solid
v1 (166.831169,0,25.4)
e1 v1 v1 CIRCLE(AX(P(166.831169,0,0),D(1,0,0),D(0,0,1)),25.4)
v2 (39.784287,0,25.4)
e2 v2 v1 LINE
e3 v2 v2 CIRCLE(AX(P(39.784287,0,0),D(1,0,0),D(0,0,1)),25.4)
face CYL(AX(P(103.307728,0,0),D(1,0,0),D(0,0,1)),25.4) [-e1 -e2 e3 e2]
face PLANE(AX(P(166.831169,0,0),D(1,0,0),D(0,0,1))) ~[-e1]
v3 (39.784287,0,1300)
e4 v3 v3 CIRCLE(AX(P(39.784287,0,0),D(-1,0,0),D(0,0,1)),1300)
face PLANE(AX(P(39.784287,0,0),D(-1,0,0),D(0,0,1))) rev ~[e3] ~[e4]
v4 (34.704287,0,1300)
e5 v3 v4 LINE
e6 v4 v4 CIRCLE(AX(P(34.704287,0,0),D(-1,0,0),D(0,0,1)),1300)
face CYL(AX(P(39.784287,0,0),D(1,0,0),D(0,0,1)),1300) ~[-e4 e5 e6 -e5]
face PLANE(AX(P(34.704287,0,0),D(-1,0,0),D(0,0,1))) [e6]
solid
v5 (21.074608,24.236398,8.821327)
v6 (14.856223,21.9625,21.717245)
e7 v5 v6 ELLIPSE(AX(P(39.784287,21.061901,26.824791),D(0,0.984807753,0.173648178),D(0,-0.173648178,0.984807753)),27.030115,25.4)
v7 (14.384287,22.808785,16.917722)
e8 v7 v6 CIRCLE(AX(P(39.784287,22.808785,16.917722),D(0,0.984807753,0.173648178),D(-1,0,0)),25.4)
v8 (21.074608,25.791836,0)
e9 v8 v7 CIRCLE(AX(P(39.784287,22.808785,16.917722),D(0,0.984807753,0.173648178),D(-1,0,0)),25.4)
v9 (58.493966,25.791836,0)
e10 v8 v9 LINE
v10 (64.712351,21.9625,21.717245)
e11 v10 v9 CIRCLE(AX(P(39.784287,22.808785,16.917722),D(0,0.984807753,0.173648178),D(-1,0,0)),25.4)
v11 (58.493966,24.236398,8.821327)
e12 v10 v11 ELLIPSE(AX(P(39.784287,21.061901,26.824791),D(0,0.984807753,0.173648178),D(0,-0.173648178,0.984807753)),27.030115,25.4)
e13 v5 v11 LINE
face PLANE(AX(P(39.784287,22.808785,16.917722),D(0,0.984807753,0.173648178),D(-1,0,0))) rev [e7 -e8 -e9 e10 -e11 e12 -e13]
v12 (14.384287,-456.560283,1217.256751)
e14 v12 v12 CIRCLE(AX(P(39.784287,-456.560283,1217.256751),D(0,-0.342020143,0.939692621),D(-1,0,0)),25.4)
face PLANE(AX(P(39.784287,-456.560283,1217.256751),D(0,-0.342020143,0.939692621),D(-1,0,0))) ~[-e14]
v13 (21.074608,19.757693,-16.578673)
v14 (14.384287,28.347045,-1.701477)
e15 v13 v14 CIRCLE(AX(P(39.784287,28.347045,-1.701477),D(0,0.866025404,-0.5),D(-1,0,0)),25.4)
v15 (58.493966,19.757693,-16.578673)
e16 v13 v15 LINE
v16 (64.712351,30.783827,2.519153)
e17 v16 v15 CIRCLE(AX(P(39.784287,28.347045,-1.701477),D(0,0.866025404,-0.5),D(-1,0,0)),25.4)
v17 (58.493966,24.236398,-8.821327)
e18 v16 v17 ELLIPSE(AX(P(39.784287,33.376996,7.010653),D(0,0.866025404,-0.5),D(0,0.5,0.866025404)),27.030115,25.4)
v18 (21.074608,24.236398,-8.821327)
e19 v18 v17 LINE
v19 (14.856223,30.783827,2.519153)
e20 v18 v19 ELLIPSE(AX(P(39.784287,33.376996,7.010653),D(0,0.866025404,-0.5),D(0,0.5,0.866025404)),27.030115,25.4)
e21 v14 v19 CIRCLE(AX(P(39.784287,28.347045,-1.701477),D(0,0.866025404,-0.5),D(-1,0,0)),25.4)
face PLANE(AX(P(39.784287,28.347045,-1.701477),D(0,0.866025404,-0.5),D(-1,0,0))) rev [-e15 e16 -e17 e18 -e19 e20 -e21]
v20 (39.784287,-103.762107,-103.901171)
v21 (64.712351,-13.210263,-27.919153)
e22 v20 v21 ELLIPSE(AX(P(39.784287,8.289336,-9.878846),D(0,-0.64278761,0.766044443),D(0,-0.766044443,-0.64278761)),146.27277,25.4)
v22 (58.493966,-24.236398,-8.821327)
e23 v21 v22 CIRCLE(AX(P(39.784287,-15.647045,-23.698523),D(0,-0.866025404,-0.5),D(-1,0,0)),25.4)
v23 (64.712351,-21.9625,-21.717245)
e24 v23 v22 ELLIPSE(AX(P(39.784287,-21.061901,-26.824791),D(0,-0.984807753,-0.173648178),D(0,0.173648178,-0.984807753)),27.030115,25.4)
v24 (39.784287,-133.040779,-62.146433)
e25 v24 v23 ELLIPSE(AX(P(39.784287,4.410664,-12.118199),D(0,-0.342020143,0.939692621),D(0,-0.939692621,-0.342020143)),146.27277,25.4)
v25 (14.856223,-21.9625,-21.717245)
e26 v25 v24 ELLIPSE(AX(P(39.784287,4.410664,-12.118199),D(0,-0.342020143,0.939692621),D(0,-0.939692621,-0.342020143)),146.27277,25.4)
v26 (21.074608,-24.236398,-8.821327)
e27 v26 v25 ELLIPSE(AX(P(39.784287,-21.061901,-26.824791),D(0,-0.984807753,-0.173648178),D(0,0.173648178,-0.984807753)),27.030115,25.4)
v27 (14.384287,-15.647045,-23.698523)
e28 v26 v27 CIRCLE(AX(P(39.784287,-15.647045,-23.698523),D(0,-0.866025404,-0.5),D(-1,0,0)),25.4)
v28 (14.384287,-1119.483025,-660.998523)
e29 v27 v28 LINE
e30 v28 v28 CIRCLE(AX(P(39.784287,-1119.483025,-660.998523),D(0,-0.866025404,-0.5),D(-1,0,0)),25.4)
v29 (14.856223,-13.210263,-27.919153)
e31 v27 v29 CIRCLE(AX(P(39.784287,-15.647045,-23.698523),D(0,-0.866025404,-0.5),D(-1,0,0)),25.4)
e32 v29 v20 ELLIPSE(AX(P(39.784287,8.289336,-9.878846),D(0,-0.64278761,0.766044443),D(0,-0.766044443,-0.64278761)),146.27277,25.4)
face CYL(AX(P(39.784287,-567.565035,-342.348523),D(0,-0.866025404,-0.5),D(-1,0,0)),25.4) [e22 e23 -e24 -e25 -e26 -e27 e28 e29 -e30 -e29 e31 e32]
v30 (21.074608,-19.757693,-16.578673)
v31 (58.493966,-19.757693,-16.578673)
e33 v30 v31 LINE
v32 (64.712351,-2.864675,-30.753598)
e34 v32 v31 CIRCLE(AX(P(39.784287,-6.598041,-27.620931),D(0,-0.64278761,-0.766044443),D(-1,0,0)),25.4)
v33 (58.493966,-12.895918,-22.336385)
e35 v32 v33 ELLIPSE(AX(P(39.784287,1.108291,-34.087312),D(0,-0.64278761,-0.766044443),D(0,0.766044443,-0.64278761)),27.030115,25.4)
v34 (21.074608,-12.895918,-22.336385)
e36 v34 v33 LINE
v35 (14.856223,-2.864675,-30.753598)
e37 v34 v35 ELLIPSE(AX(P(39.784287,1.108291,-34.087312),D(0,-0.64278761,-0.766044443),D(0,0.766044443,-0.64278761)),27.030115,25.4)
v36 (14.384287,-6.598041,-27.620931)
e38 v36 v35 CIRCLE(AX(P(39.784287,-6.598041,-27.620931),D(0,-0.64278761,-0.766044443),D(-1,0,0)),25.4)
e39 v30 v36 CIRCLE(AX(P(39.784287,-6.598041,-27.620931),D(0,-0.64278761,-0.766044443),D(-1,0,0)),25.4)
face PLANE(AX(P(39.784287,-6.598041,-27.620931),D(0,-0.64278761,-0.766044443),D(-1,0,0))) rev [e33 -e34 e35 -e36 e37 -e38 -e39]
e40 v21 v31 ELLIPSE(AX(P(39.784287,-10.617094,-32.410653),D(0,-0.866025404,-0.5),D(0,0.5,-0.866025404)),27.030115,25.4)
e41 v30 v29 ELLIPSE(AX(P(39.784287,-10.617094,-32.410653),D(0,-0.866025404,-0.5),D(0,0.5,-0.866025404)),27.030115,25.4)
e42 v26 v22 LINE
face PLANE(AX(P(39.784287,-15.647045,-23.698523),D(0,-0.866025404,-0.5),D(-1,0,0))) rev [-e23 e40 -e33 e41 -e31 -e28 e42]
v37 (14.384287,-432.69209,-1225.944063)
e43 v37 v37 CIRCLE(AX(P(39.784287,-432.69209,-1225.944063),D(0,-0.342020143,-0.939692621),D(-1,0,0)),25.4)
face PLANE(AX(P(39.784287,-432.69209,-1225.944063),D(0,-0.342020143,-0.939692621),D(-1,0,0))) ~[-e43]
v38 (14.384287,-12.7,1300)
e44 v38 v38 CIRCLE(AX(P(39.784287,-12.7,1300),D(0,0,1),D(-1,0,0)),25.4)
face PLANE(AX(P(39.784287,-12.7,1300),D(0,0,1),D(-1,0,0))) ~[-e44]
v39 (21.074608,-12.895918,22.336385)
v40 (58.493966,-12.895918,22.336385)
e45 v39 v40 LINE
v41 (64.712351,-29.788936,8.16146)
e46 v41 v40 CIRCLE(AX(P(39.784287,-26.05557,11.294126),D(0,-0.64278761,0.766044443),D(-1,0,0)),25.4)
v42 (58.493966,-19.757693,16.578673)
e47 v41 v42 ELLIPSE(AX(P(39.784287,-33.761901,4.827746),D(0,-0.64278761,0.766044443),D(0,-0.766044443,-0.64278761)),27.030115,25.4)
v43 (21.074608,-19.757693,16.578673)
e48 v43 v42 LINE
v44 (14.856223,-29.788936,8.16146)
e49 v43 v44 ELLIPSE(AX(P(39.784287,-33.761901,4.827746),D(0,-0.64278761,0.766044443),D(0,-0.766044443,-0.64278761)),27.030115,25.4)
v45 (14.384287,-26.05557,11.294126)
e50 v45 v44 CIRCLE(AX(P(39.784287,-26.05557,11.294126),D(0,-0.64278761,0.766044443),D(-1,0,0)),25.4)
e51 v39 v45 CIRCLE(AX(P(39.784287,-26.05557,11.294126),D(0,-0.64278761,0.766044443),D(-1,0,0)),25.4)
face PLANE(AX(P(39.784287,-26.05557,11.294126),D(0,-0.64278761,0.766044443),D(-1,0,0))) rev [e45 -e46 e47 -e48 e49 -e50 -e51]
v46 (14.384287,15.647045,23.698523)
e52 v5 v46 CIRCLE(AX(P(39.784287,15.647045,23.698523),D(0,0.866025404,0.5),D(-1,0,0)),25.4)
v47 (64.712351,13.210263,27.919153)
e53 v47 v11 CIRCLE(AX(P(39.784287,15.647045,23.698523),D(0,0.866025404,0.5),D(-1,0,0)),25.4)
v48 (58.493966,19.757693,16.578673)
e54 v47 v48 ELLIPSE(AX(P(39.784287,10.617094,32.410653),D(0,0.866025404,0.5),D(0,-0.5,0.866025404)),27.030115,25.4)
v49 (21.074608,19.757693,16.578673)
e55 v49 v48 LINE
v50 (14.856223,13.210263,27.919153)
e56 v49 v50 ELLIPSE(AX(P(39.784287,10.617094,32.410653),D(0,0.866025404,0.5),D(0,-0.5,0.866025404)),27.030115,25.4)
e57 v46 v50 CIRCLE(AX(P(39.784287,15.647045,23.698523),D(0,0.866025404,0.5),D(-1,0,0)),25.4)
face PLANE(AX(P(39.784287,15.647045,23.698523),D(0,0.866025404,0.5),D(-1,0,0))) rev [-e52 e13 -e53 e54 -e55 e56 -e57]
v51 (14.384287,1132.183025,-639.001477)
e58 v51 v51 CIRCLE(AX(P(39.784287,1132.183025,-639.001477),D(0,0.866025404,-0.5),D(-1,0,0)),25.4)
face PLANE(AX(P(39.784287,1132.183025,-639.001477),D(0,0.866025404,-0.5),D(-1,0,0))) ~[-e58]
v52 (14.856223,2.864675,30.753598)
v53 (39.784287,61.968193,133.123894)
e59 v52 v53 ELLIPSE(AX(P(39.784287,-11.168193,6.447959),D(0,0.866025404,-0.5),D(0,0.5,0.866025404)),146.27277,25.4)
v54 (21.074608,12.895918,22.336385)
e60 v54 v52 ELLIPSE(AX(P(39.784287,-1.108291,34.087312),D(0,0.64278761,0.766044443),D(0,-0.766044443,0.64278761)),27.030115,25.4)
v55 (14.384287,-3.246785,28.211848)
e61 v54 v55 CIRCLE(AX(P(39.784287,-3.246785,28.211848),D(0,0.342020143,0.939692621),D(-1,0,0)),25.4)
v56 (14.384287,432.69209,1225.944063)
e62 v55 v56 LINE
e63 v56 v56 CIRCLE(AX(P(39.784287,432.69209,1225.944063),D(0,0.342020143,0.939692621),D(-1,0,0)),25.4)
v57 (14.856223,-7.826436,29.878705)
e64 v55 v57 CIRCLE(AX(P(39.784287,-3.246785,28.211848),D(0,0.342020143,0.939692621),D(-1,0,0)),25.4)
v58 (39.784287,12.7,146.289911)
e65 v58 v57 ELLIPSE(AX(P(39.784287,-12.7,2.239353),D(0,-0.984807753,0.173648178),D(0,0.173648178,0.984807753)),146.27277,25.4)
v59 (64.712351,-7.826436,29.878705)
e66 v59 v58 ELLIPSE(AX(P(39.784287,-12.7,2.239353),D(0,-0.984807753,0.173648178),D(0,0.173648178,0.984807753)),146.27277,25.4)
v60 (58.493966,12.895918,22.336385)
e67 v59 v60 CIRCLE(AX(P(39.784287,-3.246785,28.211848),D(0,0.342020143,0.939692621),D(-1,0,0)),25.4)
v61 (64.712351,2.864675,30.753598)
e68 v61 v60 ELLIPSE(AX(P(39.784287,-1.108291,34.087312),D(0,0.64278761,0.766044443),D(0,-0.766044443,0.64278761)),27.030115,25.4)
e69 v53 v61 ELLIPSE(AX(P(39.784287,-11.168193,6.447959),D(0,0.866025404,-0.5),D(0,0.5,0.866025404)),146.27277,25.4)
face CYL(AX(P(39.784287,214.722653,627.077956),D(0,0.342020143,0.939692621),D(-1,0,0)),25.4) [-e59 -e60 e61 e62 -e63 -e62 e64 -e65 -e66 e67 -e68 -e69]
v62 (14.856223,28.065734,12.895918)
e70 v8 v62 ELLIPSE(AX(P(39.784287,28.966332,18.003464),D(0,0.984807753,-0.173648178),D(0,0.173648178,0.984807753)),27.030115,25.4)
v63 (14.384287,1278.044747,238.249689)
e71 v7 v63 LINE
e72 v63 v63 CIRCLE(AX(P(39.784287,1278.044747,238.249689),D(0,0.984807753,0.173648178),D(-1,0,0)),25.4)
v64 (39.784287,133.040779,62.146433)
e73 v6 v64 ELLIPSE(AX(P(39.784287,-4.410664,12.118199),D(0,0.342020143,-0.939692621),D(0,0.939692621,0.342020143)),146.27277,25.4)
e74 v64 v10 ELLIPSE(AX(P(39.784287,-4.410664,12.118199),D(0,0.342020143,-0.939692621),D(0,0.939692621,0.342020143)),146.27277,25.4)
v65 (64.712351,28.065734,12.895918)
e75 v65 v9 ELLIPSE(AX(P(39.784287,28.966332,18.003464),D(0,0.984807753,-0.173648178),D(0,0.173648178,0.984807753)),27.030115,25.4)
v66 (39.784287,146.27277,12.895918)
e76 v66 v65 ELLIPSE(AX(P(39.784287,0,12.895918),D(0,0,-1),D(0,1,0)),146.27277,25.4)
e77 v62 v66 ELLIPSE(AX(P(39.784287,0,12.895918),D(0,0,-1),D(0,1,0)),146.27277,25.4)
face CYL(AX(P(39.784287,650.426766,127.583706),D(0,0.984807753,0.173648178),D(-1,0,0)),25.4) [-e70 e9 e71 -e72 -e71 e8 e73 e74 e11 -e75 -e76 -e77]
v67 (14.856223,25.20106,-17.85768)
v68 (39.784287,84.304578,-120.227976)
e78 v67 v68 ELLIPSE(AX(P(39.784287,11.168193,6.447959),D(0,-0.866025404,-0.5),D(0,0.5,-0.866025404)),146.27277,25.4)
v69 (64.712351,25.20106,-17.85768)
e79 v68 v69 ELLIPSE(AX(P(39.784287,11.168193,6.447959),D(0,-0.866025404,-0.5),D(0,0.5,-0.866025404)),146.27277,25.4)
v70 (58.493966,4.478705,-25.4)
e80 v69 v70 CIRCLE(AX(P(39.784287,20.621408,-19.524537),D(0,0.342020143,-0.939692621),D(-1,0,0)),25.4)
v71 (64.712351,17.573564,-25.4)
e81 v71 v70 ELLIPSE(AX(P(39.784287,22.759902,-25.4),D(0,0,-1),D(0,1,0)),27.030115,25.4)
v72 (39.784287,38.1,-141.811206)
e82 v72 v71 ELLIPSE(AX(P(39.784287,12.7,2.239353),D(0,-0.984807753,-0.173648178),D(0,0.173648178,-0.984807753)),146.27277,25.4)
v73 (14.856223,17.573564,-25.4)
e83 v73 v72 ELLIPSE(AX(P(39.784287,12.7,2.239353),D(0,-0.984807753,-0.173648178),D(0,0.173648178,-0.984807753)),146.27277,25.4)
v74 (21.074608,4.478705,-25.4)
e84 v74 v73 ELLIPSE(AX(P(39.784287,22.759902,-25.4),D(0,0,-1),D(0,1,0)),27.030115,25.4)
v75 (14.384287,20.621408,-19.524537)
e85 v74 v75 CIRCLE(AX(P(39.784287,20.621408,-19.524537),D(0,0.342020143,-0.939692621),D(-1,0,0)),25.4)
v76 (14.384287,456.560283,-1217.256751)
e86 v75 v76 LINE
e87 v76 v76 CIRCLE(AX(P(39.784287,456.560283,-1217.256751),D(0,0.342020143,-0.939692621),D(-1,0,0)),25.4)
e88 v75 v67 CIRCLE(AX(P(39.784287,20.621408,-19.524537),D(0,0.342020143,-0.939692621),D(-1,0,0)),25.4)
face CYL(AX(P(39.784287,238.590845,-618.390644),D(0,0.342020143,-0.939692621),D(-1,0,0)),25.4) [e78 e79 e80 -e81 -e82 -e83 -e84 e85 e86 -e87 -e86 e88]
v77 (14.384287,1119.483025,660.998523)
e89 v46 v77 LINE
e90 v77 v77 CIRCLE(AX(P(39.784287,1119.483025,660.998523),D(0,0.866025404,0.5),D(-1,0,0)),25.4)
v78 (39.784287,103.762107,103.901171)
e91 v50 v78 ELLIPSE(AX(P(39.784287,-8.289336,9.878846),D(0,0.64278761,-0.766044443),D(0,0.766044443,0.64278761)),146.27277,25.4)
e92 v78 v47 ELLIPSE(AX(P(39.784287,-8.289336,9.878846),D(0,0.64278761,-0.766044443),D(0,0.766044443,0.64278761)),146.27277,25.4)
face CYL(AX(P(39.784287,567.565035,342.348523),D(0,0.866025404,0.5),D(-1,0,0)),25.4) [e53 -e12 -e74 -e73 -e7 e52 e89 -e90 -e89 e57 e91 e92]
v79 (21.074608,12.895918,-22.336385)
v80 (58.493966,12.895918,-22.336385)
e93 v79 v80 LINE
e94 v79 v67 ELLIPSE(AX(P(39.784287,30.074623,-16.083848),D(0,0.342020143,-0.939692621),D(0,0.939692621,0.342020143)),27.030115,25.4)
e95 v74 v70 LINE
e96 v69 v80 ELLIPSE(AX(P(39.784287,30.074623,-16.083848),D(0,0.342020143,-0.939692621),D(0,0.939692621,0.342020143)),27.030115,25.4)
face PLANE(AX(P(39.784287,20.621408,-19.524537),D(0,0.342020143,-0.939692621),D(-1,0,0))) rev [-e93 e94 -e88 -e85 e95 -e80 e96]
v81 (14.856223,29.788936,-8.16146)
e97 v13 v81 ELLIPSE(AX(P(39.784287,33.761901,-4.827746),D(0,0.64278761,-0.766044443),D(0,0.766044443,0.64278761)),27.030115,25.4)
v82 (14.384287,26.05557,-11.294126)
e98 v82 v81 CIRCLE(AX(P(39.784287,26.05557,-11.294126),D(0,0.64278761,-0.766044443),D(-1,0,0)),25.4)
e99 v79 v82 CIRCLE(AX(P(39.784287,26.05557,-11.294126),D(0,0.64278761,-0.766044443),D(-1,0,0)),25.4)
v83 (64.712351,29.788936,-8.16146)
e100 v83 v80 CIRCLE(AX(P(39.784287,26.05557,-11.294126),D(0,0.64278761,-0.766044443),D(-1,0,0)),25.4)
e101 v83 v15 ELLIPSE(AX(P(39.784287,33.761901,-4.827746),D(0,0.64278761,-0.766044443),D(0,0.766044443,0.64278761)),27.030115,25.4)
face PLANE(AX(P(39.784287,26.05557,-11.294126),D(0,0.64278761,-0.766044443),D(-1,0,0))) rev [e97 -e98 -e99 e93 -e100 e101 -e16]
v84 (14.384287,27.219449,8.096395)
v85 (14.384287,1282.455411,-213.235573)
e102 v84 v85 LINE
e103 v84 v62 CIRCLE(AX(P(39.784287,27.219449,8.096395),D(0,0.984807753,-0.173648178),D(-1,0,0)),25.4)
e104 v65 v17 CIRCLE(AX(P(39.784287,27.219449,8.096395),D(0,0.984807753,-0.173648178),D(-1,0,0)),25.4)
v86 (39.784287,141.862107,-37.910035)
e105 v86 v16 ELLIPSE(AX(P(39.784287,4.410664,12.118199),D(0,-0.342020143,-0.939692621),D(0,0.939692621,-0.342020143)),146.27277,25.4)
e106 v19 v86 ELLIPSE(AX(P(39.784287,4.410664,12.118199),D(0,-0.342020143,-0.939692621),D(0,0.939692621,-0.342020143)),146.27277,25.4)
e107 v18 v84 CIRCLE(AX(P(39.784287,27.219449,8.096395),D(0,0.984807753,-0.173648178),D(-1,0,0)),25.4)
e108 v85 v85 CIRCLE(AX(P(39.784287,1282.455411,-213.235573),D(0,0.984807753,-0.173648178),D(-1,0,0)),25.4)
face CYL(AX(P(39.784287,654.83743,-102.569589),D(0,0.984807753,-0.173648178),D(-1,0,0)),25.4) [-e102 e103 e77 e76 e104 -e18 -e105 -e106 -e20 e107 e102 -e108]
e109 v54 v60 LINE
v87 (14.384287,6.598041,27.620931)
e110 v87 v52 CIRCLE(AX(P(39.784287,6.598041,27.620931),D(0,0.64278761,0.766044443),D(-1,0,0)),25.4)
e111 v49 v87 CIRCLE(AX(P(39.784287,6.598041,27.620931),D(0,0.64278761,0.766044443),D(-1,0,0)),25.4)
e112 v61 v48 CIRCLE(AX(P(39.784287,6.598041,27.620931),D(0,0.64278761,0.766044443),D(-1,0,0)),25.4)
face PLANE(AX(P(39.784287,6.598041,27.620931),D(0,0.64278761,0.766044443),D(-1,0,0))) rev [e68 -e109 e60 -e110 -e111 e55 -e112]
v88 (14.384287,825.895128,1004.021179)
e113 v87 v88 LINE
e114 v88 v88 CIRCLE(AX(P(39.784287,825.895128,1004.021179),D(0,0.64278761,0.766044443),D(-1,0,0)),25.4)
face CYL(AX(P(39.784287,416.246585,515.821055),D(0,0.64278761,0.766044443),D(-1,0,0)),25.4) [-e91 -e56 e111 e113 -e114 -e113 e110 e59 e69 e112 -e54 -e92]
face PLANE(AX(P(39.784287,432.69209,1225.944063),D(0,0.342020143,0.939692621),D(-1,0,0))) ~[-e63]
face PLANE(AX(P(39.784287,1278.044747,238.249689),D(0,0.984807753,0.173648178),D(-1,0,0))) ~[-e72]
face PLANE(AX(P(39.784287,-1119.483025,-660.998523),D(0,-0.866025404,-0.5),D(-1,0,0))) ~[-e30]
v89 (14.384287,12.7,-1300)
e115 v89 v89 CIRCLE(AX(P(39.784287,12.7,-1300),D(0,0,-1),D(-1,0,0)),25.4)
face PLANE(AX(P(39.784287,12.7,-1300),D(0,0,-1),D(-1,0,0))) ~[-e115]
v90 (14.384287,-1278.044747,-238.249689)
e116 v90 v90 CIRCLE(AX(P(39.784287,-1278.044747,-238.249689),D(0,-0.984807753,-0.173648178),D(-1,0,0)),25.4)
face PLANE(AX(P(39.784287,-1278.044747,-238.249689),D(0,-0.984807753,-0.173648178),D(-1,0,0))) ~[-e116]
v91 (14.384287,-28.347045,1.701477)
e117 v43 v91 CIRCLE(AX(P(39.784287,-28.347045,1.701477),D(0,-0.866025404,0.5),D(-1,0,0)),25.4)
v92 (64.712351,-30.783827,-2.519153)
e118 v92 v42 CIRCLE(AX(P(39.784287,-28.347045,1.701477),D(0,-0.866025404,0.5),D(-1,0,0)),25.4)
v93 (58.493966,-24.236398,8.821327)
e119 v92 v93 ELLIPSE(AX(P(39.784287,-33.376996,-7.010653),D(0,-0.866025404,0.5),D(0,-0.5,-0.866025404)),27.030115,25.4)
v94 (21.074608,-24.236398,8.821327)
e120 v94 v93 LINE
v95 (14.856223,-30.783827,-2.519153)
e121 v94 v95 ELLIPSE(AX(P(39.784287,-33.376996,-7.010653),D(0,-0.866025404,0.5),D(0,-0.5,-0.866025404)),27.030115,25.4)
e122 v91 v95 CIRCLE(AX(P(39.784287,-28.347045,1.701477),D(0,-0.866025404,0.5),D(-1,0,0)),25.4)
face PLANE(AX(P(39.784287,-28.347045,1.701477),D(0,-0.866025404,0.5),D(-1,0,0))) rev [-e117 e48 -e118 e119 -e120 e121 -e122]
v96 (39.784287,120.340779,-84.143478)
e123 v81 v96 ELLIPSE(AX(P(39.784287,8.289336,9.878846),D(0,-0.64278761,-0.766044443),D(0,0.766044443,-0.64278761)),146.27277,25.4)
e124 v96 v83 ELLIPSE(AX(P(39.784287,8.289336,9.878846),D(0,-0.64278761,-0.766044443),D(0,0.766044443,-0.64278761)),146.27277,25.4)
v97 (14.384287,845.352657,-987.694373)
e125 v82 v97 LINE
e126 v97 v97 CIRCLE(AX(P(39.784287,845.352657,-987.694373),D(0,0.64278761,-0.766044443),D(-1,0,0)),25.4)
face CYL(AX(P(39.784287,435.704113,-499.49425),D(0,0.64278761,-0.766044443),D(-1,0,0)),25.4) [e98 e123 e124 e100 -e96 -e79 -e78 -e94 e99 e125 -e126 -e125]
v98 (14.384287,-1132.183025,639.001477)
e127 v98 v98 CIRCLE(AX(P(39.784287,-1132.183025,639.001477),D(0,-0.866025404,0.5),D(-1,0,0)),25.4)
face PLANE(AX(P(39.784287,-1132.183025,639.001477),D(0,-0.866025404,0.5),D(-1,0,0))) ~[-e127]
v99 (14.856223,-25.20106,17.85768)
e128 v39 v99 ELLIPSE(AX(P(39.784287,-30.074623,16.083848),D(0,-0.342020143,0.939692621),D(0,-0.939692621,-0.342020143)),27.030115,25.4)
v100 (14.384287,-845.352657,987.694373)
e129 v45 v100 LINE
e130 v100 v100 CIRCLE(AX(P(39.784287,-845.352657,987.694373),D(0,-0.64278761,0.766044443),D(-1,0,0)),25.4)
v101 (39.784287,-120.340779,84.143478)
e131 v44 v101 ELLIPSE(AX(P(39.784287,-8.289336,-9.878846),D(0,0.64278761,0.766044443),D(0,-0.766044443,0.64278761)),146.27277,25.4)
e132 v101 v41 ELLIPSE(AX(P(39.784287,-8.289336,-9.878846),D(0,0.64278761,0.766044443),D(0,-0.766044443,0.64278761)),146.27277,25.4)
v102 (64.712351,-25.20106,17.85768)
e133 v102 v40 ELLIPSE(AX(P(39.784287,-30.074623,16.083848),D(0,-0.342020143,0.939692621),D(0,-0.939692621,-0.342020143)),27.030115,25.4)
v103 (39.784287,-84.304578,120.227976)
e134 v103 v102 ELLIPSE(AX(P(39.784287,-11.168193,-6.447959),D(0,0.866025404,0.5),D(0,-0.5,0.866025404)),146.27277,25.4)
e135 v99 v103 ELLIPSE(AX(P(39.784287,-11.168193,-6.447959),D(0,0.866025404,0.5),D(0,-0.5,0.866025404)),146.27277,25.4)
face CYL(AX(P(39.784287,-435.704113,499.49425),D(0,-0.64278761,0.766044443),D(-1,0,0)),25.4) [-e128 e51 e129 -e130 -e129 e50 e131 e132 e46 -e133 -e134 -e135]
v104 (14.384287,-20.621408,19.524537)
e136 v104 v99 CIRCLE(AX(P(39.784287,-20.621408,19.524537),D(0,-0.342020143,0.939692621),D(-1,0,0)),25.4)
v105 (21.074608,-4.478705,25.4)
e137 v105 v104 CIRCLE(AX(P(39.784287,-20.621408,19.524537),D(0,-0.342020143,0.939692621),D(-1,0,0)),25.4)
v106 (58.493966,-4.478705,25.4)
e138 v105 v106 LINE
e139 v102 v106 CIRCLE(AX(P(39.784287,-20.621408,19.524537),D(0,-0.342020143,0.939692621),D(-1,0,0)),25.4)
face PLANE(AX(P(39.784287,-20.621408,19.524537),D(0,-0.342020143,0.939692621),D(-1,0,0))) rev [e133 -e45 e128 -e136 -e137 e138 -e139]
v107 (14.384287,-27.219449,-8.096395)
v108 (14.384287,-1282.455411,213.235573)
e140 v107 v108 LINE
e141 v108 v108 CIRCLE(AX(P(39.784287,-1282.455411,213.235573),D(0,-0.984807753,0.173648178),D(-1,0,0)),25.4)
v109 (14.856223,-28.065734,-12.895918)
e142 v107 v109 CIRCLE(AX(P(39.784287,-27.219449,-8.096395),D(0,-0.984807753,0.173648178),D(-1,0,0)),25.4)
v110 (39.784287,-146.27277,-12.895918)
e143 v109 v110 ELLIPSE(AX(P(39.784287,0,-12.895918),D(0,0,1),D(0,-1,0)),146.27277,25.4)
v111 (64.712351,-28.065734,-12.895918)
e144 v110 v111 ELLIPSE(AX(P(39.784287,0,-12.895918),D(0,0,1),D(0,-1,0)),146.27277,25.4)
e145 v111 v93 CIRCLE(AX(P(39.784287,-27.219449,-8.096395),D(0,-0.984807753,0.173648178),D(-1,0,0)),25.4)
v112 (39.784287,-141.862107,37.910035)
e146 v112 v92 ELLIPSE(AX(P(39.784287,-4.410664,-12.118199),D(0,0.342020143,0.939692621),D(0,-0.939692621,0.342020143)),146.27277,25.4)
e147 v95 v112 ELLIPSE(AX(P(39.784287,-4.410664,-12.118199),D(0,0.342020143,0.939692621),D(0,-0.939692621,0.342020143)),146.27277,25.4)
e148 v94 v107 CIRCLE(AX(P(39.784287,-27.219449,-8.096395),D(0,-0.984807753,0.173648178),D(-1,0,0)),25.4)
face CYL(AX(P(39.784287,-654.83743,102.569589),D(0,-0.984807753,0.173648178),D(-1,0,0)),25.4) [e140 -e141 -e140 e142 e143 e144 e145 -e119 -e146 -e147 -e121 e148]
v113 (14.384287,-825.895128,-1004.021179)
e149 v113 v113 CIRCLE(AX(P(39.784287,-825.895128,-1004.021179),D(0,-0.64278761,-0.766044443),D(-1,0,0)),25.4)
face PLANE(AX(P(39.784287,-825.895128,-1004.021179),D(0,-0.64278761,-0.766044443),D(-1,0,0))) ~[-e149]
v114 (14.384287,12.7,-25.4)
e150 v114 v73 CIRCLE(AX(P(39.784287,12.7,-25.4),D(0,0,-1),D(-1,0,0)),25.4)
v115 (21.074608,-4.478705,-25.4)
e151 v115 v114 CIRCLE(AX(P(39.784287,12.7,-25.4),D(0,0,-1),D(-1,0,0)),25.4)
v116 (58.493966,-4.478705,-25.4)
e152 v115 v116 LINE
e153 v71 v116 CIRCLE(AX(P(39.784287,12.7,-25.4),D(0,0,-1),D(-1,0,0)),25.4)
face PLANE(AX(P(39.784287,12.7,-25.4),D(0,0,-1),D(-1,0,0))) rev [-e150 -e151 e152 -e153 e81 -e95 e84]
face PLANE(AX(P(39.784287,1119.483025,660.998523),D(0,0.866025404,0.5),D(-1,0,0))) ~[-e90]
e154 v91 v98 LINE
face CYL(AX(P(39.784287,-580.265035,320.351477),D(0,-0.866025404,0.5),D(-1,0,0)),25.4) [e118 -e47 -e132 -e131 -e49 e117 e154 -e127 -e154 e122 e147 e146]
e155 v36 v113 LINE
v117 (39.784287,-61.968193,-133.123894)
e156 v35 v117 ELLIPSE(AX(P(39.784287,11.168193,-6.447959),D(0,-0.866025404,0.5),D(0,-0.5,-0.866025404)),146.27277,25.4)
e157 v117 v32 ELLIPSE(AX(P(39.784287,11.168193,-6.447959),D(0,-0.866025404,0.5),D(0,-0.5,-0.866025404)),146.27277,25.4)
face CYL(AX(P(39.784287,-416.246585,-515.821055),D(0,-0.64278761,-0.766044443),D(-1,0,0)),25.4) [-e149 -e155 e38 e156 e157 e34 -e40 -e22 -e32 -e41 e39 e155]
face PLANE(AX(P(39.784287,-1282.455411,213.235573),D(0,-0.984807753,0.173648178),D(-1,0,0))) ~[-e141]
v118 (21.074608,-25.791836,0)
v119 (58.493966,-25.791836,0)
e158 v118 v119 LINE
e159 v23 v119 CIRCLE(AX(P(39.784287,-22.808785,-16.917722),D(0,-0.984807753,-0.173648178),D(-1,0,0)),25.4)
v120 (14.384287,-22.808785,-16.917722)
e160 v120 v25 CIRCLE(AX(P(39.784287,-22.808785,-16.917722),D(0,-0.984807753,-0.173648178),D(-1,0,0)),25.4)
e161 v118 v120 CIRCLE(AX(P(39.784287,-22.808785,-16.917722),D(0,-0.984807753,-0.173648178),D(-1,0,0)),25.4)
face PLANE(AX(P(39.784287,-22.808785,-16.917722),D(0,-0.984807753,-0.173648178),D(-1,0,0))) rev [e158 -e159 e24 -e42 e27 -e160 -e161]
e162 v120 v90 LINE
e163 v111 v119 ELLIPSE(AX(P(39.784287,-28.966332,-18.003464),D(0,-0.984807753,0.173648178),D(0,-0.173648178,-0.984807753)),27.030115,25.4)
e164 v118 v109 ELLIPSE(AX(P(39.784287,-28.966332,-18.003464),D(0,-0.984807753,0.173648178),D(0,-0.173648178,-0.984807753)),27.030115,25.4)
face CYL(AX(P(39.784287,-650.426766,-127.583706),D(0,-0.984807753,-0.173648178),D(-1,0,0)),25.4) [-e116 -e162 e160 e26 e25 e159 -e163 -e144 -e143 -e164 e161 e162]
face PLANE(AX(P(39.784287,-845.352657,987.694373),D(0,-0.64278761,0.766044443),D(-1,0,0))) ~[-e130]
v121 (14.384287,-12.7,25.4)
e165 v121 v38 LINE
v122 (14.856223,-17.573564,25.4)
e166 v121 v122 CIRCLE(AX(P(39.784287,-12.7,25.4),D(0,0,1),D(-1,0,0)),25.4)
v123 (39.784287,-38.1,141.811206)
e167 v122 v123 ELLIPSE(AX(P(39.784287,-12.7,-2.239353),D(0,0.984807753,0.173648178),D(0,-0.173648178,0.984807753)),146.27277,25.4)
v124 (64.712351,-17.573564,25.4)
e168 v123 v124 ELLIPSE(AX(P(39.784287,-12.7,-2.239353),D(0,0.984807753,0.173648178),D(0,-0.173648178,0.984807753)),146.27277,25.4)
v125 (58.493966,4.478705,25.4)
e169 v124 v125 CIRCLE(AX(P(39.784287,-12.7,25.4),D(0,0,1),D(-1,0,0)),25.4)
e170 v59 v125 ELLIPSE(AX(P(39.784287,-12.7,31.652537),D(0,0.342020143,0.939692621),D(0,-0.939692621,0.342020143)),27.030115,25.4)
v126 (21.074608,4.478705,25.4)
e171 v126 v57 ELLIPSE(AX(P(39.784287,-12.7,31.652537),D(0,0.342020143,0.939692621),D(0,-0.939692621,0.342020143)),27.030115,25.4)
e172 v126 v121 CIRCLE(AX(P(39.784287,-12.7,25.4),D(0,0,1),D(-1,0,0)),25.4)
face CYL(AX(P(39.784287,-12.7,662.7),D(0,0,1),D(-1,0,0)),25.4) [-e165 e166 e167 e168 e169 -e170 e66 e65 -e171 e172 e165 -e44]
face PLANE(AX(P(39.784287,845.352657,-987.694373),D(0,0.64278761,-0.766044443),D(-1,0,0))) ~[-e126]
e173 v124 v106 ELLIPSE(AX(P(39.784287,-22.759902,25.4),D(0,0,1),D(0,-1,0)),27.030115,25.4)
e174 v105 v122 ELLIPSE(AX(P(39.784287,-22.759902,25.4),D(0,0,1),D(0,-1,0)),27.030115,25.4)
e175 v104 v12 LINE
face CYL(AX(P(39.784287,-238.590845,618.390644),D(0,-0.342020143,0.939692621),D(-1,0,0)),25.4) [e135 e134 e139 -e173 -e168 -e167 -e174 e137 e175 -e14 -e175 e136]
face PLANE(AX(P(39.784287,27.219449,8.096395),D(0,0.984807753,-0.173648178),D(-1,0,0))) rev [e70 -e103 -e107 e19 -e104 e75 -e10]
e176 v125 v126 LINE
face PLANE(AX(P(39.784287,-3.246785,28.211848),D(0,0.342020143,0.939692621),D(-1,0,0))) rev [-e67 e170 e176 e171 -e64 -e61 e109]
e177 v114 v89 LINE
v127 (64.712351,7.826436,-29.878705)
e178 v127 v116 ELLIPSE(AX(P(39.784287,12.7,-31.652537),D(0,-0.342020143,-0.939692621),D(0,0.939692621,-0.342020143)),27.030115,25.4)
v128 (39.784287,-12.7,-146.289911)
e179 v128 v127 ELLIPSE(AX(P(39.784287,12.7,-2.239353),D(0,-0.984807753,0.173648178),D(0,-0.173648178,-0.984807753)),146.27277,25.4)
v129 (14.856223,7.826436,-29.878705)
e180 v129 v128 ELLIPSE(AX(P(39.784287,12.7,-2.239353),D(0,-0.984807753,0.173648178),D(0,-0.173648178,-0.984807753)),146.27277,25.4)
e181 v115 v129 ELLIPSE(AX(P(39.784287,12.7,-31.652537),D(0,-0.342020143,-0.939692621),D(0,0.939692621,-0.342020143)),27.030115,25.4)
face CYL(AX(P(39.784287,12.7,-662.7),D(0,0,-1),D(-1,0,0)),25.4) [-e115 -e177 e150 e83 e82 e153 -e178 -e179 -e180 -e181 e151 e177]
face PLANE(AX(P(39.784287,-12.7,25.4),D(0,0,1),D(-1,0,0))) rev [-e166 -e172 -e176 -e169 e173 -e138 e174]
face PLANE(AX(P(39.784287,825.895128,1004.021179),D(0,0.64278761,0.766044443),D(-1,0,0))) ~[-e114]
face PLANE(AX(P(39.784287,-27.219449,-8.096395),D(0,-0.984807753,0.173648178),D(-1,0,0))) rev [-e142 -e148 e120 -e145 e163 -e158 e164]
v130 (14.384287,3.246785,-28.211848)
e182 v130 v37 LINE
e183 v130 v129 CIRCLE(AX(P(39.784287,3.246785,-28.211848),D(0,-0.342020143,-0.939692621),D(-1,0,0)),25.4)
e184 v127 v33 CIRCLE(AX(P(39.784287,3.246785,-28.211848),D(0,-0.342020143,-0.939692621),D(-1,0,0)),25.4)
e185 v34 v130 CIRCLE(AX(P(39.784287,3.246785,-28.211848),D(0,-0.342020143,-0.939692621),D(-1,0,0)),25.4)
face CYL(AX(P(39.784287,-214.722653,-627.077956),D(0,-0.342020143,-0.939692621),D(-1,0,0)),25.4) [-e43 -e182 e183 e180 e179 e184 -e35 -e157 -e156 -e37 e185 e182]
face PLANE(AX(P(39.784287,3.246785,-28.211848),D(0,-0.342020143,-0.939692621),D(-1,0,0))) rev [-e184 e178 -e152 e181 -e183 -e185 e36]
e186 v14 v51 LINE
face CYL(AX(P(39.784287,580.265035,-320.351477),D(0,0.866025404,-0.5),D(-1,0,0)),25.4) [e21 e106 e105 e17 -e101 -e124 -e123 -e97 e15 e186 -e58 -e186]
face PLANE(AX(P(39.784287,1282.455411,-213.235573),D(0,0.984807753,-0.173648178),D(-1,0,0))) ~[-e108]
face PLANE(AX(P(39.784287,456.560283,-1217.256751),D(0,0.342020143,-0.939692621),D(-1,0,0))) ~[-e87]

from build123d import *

# Parameters (mm, degrees)
SKETCH3_W           = 127.046882492
SKETCH3_H           = 25.4
SKETCH6_W           = 1274.6
SKETCH6_H           = 25.4
SKETCH7_R           = 1300
BOSS_EXTRUDE2_DEPTH = 5.08
CIRPATTERN1_COUNT   = 18


with BuildPart() as part:
    # Sketch3 → Revolve2 (revolve)
    with BuildSketch(Plane(origin=(39.784286719, 0, 0), x_dir=(1, 0, 0), z_dir=(0, 0, 1)), mode=Mode.PRIVATE) as revolve2_sk:
        with Locations((63.523441246, 12.7)):
            Rectangle(SKETCH3_W, SKETCH3_H)
    revolve(revolve2_sk.sketch.rotate(Axis((39.784286719, 0, 0), (1, 0, 0)), 90), axis=Axis((39.784286719, 0, 0), (1, 0, 0)))

    # Sketch7 → Boss-Extrude2 (add)
    with BuildSketch(Plane.ZY.offset(-39.784286719)):
        Circle(SKETCH7_R)
    extrude(amount=BOSS_EXTRUDE2_DEPTH)


with BuildPart() as body_2:
    # Sketch6 → Revolve3 (revolve)
    with BuildSketch(Plane.ZY.offset(-39.784286719), mode=Mode.PRIVATE) as revolve3_sk:
        with Locations((662.7, 0)):
            Rectangle(SKETCH6_W, SKETCH6_H)
    revolve3 = revolve(revolve3_sk.sketch.rotate(Axis((39.784286719, -12.7, 25.4), (0, 0, 1)), 90), axis=Axis((39.784286719, -12.7, 25.4), (0, 0, 1)))

    # CirPattern1: Revolve3 ×18 about axis
    cirpattern1_axis = Axis((0, 0, 0), (1, 0, 0))
    for i in range(1, CIRPATTERN1_COUNT):
        add(revolve3.rotate(cirpattern1_axis, i * 360 / CIRPATTERN1_COUNT))


solid = Compound([part.part, body_2.part])
